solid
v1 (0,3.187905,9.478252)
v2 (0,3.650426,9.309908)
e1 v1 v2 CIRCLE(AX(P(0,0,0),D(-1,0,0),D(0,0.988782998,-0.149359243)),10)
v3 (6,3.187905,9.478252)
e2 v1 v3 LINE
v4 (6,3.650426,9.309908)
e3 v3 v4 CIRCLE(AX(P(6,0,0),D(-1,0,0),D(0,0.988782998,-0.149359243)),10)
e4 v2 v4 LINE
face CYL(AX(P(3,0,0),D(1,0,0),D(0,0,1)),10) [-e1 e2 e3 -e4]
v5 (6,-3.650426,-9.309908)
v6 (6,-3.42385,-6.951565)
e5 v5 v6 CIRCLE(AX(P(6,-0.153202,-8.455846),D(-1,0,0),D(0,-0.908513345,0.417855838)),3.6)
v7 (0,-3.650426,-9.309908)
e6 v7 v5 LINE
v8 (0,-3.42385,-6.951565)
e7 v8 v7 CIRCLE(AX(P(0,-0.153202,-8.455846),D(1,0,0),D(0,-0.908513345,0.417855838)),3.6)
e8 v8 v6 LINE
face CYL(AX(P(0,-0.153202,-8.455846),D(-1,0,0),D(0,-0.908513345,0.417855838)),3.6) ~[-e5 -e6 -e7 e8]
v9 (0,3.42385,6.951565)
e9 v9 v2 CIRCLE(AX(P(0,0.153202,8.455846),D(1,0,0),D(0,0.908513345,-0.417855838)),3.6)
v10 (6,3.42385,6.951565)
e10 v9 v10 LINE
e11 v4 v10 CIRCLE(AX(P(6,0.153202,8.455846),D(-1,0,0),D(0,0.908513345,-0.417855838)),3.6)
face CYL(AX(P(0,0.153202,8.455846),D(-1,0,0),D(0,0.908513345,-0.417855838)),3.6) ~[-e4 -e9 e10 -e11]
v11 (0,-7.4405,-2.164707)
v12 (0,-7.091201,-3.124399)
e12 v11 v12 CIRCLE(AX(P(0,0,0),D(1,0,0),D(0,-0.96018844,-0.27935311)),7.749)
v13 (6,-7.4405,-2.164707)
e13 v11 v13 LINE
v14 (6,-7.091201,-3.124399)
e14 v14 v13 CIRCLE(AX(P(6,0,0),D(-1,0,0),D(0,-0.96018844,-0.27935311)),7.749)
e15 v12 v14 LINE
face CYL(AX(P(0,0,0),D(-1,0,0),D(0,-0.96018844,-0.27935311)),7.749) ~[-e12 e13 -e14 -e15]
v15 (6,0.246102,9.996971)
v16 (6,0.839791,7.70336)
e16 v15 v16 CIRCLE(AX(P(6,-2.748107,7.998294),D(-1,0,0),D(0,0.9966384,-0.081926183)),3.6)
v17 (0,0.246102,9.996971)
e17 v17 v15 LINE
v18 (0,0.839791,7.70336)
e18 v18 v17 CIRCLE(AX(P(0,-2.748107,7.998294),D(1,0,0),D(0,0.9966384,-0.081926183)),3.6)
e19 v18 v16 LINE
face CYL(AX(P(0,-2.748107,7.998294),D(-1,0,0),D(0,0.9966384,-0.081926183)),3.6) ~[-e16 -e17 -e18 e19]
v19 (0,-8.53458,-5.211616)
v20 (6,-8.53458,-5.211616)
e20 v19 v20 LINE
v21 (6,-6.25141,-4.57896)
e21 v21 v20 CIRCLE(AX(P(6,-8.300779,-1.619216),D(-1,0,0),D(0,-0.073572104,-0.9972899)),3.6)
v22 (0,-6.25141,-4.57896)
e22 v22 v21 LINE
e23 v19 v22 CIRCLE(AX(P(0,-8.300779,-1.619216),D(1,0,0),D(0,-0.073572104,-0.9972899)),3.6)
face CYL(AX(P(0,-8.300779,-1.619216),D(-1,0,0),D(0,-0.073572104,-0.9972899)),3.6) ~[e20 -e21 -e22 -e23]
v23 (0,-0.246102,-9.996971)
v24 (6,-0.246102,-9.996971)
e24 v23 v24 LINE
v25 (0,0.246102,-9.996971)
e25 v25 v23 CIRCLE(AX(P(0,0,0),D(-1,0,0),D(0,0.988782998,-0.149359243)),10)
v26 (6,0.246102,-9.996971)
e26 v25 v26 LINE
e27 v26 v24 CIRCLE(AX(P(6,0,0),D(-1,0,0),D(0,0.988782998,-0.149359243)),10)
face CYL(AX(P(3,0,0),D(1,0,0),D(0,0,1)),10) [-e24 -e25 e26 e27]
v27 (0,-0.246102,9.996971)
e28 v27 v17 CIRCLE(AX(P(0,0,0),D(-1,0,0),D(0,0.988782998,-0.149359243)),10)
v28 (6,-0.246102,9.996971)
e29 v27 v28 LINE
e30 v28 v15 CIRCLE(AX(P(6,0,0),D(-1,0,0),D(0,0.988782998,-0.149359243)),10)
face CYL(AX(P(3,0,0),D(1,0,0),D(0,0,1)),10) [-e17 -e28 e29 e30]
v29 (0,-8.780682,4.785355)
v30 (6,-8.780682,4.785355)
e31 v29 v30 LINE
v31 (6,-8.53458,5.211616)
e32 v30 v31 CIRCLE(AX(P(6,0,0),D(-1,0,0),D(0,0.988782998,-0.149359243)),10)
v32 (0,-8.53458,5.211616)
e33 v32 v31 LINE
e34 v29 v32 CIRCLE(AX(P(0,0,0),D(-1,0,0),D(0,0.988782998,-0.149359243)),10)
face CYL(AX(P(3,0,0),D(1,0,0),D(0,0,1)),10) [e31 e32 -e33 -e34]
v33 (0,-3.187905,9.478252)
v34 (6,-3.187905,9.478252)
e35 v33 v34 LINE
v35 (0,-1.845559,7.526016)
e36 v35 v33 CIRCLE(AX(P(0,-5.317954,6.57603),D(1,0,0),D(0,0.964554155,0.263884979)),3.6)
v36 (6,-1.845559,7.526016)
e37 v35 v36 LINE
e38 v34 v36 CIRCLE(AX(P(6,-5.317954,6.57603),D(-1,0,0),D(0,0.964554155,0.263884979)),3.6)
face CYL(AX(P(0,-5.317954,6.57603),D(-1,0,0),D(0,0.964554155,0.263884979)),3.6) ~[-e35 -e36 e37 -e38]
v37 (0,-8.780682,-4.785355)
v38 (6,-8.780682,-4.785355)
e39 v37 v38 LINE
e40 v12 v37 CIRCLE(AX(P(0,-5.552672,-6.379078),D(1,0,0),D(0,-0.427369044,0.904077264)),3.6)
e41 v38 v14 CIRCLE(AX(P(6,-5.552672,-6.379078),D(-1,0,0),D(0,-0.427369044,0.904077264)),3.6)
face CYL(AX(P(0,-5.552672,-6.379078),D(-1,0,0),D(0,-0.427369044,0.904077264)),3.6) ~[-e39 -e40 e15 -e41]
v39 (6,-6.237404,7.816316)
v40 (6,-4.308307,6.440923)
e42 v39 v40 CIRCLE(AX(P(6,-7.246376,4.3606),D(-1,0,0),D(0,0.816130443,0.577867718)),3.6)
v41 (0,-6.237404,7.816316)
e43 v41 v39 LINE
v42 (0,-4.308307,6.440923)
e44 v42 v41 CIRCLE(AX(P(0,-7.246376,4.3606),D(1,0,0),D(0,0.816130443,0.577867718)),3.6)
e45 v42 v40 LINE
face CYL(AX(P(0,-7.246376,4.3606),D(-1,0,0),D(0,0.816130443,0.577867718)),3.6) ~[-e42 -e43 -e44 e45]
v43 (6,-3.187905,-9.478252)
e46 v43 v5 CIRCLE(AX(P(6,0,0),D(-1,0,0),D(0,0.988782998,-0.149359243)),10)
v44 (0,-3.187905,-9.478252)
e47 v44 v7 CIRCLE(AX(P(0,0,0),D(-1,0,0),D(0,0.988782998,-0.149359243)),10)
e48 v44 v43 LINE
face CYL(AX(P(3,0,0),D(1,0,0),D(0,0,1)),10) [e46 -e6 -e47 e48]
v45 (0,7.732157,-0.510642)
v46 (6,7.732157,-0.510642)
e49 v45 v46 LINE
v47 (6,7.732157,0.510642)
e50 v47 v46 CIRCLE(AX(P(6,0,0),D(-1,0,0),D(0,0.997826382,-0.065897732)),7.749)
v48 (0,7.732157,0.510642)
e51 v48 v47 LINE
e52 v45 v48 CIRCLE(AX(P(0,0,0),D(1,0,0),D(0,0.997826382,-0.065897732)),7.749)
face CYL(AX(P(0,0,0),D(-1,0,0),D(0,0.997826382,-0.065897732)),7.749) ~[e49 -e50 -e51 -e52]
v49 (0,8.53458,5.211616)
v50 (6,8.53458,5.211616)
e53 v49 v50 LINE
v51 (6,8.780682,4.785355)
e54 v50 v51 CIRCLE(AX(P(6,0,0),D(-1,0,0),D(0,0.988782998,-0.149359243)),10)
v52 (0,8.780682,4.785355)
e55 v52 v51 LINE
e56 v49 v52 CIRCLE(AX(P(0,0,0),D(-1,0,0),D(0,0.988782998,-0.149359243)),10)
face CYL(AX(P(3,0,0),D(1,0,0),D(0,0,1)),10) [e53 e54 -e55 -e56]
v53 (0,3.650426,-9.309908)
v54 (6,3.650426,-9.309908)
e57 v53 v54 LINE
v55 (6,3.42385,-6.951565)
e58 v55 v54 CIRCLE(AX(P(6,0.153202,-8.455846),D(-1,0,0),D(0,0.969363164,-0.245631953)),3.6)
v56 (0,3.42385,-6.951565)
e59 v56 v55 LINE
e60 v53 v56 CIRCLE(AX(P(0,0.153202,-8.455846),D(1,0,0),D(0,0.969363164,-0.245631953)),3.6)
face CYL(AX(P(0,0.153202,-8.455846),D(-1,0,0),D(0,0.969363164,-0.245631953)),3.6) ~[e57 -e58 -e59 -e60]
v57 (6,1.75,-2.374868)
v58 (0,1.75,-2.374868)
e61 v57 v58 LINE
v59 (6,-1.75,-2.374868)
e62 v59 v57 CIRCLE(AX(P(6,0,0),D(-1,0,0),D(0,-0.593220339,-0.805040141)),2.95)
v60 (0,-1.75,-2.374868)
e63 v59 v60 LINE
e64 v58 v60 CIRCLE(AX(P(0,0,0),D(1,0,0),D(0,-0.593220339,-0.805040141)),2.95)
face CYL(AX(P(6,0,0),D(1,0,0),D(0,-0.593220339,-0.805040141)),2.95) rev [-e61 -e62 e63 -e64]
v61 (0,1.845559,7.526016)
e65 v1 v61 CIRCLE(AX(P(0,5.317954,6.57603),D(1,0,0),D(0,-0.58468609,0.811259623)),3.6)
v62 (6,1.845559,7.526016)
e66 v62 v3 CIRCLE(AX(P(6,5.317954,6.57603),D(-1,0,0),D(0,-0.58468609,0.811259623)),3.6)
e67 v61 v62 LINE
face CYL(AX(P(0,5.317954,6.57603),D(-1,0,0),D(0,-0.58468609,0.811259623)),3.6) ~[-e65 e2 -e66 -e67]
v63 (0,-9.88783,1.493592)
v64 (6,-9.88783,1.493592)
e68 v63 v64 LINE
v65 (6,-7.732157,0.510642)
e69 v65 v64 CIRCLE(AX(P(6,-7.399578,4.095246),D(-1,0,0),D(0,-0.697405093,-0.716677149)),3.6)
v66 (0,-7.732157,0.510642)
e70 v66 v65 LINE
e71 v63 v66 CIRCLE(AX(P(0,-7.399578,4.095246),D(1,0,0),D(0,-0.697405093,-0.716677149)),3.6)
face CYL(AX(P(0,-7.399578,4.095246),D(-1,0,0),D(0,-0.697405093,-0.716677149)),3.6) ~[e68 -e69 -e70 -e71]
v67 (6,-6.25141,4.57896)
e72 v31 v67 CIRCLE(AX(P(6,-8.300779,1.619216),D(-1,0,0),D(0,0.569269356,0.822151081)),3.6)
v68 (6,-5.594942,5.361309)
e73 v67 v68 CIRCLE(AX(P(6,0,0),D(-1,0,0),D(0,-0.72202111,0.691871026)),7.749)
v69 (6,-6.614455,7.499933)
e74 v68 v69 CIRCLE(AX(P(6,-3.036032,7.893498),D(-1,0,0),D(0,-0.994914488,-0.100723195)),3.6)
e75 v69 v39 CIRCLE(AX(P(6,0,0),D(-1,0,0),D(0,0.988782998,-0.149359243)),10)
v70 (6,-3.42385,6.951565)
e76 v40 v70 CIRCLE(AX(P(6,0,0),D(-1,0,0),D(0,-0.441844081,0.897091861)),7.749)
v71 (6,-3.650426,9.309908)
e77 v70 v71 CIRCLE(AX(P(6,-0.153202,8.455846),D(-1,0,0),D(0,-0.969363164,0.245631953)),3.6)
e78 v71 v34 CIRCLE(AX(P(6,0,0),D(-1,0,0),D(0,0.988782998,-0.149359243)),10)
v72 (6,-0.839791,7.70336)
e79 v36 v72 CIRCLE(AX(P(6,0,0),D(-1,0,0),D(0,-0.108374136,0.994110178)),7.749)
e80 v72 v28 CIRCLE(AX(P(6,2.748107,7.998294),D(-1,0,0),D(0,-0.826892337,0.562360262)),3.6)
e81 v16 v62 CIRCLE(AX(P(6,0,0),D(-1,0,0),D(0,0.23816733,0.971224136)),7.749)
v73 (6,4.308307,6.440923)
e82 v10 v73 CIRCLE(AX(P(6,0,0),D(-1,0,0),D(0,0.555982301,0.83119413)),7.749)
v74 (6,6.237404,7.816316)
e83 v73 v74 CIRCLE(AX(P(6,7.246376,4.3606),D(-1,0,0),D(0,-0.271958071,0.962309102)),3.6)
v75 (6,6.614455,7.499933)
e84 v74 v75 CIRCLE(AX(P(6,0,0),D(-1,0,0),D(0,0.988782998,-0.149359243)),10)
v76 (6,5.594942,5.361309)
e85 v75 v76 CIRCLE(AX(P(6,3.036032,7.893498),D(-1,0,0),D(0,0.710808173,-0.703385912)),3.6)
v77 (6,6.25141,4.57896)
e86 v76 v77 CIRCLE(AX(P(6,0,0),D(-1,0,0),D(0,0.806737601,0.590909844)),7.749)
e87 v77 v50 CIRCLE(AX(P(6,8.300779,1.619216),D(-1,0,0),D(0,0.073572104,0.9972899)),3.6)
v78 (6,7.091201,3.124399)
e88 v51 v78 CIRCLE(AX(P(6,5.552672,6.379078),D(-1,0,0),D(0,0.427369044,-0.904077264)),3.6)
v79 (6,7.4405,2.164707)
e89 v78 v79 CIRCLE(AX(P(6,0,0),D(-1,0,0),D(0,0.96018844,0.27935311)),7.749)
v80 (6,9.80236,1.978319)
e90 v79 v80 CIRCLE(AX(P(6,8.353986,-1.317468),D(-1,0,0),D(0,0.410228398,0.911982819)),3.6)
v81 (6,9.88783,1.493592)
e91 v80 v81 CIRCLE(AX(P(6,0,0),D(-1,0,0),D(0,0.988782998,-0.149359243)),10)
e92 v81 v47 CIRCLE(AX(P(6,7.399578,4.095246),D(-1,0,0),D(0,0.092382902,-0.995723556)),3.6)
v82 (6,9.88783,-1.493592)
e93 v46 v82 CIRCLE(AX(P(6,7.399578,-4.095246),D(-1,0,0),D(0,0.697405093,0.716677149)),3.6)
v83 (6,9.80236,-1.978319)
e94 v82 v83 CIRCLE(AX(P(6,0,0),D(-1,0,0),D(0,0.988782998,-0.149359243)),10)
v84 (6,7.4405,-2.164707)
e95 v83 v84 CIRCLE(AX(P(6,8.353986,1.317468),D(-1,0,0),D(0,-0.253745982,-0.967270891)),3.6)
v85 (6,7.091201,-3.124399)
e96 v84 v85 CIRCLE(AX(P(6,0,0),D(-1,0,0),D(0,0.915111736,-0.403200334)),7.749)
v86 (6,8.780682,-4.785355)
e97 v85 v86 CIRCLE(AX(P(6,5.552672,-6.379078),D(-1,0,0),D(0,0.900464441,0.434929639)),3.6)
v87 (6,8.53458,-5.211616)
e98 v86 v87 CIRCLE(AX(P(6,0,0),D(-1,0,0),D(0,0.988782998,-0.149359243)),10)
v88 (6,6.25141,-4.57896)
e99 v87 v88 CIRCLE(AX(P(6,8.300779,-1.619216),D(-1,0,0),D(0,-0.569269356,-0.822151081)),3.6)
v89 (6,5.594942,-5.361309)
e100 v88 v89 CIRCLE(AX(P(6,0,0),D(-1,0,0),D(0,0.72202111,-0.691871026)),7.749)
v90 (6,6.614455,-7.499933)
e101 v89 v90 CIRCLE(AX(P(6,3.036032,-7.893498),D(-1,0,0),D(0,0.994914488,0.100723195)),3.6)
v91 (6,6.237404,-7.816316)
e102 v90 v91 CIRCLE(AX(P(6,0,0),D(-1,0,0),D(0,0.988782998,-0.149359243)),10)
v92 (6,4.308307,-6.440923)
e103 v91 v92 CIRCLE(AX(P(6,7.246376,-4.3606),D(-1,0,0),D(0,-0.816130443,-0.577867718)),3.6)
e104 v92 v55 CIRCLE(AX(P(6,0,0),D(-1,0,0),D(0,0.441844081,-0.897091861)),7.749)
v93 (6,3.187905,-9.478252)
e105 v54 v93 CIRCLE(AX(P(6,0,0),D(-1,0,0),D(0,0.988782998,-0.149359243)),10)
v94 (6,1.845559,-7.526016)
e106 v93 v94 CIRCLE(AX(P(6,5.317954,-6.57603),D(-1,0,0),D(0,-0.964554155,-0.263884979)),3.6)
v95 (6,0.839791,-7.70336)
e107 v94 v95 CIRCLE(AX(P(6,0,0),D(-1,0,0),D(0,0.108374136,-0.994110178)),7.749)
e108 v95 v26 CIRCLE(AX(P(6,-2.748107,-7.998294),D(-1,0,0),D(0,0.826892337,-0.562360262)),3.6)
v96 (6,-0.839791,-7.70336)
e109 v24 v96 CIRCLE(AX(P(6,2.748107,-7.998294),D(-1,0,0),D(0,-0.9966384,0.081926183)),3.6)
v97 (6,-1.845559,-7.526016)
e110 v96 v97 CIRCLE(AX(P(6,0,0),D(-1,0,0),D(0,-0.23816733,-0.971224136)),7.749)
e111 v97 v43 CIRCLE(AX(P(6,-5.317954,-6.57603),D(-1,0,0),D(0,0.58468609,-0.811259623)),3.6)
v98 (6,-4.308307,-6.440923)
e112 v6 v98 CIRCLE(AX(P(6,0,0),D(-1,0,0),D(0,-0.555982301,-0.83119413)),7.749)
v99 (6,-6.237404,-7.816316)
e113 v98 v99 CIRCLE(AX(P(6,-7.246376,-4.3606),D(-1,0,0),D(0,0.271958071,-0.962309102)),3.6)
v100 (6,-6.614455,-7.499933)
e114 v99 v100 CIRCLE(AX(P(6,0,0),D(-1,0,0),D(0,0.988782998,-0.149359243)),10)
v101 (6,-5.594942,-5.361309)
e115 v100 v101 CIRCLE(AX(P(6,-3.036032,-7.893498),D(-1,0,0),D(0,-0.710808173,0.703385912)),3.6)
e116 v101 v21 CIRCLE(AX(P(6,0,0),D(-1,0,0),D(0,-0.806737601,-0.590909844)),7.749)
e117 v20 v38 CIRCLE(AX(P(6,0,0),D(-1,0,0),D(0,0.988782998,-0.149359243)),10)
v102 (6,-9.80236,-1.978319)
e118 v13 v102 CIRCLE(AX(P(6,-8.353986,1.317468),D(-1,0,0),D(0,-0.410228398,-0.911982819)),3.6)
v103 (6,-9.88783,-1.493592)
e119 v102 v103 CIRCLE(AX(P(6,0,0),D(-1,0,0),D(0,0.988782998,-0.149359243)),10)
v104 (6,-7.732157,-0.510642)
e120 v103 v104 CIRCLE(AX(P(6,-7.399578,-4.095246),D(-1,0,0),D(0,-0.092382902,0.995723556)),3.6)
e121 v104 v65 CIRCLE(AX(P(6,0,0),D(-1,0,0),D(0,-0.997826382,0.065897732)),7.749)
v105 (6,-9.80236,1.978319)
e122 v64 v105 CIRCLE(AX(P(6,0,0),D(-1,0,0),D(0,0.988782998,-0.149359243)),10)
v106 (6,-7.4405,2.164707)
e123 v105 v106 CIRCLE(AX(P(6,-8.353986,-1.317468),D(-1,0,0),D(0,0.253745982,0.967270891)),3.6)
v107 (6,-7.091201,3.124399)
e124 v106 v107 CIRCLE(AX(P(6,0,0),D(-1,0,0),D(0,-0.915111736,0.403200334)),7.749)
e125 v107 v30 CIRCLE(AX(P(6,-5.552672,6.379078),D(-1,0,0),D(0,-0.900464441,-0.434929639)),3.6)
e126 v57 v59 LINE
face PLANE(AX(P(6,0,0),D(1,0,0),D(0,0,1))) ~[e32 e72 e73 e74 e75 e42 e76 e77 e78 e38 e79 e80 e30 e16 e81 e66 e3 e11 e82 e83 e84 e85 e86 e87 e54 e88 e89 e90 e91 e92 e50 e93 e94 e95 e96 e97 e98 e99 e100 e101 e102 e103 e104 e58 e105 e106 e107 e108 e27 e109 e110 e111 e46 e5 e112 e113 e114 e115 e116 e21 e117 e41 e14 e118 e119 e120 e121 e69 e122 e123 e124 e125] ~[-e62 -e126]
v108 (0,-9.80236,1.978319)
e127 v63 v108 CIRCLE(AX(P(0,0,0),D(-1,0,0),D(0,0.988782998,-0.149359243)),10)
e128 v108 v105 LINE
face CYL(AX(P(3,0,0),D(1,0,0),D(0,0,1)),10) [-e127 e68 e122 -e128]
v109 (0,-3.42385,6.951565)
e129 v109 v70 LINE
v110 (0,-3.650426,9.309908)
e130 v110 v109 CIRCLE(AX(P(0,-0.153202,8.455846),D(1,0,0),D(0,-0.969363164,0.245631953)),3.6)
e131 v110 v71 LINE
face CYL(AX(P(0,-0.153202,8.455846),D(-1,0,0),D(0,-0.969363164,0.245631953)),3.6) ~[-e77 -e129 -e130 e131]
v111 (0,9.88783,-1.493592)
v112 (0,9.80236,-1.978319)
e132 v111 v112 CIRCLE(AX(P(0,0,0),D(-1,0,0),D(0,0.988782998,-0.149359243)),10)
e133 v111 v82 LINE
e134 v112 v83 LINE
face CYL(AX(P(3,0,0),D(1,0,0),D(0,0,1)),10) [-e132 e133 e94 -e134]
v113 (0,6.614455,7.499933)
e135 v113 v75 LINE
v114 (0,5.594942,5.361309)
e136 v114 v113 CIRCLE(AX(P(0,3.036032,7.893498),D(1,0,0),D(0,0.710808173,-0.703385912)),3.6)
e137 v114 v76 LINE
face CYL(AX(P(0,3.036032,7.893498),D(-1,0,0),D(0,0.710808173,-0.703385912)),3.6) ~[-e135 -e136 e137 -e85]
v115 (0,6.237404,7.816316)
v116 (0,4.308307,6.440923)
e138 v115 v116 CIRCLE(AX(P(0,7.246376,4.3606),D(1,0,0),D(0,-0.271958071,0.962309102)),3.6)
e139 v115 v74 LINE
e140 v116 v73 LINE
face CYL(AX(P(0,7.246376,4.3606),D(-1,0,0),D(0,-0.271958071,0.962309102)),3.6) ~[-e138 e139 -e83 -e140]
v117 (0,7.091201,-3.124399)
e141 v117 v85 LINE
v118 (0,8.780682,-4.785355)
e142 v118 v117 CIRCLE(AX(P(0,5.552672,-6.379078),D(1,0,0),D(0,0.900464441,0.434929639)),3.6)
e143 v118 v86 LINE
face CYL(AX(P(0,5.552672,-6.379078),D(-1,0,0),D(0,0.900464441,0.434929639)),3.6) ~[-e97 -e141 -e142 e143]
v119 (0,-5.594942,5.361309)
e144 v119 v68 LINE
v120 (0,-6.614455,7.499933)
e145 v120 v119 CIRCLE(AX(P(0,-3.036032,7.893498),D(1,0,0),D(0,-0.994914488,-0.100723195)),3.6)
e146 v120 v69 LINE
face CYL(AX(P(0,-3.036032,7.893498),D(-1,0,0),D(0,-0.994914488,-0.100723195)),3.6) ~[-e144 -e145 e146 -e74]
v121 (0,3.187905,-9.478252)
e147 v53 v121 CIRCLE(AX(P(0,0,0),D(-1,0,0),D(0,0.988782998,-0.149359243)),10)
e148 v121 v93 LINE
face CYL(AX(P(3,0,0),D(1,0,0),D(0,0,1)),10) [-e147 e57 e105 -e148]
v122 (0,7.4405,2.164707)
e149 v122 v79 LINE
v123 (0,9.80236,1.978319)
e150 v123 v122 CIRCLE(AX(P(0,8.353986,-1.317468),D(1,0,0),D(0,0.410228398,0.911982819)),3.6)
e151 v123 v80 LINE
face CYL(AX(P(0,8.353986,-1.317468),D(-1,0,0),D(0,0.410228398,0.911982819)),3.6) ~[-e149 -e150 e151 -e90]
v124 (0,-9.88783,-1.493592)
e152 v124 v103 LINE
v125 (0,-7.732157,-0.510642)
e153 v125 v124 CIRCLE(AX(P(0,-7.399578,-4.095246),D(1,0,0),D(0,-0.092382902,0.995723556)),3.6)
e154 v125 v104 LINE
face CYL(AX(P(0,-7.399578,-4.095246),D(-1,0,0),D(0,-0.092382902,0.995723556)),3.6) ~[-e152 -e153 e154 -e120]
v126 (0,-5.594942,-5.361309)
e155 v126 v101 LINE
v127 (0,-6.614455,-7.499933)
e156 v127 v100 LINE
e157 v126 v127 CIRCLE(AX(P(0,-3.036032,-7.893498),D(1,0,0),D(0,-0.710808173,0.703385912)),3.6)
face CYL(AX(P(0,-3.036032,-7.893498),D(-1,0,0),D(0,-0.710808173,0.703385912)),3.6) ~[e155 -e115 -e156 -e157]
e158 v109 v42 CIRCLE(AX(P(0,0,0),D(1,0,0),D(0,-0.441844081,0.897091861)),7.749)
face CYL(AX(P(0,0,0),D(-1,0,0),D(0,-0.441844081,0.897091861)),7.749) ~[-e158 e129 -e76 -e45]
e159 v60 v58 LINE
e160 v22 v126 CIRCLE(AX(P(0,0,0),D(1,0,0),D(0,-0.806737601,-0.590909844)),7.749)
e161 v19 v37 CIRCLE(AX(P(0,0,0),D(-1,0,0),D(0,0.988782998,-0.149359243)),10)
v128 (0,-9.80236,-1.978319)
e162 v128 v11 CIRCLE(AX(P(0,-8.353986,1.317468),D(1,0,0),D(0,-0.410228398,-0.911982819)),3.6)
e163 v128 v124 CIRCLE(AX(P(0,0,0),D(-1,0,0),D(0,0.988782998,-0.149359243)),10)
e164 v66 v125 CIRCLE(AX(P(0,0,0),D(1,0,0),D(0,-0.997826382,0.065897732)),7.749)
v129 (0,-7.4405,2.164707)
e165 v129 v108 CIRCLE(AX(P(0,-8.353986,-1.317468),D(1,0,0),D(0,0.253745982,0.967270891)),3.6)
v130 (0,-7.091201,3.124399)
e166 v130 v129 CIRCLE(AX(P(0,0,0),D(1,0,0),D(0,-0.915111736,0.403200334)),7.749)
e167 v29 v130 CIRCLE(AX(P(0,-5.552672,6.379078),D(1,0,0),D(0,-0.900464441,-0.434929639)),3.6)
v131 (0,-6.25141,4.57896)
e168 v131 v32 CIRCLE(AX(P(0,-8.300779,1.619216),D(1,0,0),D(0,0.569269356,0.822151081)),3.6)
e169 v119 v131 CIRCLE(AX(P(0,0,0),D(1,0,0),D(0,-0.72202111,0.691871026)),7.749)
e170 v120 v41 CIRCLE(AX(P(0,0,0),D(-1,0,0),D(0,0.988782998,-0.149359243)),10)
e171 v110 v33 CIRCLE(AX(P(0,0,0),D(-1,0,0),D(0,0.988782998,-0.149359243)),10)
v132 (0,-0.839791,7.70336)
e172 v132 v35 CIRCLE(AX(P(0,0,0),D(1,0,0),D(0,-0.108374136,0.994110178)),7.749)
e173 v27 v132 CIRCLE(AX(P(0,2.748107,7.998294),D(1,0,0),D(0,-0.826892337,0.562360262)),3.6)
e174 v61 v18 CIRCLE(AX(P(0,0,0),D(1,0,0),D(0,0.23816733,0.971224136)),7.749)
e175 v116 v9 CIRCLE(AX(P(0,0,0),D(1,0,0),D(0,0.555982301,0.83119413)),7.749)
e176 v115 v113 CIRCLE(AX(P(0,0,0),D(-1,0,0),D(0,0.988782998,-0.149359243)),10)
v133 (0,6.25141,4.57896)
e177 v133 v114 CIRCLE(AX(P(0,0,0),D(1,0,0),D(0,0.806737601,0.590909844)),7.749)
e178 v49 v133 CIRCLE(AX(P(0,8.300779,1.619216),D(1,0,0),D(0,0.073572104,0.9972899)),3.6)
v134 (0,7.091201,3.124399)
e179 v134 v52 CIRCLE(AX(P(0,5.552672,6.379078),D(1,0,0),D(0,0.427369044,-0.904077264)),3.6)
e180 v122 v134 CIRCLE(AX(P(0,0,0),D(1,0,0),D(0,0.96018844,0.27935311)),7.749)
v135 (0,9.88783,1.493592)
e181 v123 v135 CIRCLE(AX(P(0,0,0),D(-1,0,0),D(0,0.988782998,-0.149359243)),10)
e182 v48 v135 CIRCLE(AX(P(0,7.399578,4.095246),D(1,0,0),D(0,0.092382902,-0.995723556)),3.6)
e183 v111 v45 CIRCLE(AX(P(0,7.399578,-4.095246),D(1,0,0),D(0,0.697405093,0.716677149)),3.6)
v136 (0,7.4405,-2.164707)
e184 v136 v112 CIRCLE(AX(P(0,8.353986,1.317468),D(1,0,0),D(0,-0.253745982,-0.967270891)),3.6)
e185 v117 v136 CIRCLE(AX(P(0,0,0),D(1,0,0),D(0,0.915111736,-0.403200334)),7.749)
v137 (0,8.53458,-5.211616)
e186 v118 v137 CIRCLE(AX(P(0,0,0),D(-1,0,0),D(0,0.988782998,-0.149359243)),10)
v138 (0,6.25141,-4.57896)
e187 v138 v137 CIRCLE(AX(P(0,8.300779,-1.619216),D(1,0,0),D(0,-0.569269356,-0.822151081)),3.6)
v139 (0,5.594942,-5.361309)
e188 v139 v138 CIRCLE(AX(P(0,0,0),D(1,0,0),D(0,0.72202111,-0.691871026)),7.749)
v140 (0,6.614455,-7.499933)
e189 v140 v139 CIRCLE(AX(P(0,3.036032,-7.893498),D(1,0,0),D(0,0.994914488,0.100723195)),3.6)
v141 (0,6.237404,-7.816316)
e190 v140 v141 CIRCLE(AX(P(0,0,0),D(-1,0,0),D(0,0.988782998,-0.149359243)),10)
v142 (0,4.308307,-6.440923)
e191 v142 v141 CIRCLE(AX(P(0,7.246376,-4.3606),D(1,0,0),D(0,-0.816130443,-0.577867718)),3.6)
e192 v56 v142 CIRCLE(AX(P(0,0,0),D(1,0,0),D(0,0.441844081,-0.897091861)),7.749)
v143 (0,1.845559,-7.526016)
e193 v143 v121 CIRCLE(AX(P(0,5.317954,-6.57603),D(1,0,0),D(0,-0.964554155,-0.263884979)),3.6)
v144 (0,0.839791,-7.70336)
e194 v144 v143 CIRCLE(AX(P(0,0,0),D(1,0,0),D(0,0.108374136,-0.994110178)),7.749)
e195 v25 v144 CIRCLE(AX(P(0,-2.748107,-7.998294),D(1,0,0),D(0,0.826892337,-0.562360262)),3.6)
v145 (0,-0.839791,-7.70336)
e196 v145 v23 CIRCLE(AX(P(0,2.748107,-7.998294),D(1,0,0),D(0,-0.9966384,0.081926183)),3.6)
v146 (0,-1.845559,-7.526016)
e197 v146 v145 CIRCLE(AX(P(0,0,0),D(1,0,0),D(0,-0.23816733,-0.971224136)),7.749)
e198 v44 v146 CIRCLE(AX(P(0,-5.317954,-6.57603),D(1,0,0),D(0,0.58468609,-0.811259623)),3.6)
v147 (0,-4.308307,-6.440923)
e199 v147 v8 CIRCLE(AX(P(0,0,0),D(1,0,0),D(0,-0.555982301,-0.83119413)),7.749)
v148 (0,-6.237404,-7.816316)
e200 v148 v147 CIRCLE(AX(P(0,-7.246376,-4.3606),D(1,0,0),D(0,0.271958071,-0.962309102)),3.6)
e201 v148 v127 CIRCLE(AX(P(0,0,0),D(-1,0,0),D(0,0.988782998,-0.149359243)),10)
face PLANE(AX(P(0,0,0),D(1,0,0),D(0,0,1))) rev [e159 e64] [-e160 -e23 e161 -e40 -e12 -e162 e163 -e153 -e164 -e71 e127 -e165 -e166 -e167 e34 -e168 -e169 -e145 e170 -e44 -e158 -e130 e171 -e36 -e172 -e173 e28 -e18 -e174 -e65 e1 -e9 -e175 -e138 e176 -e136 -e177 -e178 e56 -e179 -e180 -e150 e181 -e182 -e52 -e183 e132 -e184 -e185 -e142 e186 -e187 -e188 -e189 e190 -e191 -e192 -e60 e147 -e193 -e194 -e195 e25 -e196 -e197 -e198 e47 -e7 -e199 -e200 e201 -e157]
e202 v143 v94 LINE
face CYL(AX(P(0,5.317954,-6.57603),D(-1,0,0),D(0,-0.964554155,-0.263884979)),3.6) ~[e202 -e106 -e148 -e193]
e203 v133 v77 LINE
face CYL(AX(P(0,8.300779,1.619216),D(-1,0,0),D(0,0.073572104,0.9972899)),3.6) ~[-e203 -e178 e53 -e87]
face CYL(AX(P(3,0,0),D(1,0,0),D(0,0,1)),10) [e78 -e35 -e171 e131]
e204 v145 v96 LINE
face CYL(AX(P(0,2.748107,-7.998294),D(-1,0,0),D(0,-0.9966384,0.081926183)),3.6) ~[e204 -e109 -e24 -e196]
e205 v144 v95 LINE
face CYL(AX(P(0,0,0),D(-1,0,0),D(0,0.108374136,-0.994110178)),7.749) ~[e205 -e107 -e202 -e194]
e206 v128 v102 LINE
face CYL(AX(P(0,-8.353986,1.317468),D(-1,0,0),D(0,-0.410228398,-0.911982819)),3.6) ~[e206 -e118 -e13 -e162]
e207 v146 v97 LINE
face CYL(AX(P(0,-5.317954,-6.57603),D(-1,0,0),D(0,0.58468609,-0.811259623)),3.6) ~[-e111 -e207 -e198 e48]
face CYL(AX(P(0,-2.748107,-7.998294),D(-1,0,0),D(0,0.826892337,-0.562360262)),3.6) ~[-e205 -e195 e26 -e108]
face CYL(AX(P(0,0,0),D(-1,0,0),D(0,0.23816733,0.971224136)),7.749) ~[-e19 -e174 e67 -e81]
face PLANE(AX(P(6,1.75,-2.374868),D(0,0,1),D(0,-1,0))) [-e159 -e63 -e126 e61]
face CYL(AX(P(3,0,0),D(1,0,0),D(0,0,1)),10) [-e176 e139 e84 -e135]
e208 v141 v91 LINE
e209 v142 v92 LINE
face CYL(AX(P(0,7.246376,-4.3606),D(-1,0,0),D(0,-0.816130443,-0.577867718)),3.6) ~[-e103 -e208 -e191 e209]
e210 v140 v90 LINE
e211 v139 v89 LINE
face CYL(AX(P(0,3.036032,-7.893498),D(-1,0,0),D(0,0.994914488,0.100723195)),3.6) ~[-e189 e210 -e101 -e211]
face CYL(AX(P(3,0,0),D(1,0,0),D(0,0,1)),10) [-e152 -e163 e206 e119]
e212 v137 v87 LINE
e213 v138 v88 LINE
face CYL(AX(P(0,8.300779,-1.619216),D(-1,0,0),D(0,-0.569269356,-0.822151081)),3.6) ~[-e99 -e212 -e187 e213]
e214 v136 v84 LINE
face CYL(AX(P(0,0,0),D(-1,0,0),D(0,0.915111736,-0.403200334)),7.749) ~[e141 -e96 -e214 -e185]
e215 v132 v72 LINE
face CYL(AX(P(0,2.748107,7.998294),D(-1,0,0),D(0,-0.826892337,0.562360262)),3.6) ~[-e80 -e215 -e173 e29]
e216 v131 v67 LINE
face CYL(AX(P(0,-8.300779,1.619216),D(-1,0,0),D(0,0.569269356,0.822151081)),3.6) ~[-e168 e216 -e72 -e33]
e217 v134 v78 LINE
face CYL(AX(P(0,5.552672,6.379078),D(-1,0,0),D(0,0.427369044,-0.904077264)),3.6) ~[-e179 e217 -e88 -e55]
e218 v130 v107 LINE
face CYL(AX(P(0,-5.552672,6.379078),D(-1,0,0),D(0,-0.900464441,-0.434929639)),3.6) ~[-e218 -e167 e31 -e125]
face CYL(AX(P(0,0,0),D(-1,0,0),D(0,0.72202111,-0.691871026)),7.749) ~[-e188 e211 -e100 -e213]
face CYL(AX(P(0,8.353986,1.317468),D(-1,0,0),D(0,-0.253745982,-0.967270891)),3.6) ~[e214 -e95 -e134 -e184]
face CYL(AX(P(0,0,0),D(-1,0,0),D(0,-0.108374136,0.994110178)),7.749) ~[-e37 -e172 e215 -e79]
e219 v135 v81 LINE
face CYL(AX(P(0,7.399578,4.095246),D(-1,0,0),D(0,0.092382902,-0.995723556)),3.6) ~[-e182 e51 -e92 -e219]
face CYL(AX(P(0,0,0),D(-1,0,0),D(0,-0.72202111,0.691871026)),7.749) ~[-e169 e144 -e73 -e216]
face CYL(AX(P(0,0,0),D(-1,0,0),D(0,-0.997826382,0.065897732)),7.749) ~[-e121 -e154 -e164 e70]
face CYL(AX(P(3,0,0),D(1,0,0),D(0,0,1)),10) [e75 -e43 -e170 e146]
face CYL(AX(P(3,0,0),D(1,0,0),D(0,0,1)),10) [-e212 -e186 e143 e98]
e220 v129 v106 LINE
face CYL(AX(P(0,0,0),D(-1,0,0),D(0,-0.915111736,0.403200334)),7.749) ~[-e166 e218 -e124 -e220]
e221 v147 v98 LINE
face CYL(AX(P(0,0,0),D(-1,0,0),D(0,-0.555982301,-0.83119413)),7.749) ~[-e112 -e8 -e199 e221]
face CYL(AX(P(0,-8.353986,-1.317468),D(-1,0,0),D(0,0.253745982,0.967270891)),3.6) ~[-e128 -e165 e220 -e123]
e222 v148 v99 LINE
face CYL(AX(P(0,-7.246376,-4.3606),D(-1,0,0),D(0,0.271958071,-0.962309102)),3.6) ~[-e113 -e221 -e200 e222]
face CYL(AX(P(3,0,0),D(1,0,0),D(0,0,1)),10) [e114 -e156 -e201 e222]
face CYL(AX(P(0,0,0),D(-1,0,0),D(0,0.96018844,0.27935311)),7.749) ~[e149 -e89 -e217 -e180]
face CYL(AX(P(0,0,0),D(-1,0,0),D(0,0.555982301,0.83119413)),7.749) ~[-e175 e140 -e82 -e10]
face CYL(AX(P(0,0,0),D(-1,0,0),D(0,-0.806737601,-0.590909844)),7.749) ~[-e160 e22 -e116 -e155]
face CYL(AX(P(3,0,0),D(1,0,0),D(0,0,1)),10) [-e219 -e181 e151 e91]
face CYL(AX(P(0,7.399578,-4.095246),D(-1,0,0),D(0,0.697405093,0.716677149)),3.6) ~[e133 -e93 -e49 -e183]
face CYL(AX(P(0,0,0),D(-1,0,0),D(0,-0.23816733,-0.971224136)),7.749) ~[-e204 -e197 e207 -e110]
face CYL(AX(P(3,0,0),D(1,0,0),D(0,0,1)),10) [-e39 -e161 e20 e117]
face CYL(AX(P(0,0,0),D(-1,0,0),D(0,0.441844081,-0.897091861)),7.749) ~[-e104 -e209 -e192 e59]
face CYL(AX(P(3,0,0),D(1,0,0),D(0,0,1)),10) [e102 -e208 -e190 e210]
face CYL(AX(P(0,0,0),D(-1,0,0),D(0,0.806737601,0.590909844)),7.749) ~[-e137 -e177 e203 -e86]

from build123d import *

# Parameters (mm, degrees)
BASPROSKE_W        = 6
BASPROSKE_H        = 10
TOOTHCUT_DEPTH     = 16.362291496
TEETHCUTS_COUNT    = 18
TEETHCUTS_ANGLE    = 340
CUT_EXTRUDE1_DEPTH = 16.289512146


with BuildPart() as part:
    # BasProSke → Base-Revolve (revolve)
    with BuildSketch(Plane(origin=(0, 0, 0), x_dir=(1, 0, 0), z_dir=(0, 1, 0)), mode=Mode.PRIVATE) as base_revolve_sk:
        with Locations((3, 5)):
            Rectangle(BASPROSKE_W, BASPROSKE_H)
    revolve(base_revolve_sk.sketch.rotate(Axis((-10, 0, 0), (1, 0, 0)), 180), axis=Axis((-10, 0, 0), (1, 0, 0)))

    # TooCutSke → ToothCut (cut, through all)
    with BuildSketch(Plane(origin=(0, 0, 0), x_dir=(0, 0, -1), z_dir=(1, 0, 0))):
        with BuildLine():
            ThreePointArc((0.510641536, 7.732156635), (0, 7.749), (-0.510641536, 7.732156635))
            ThreePointArc((-0.510641536, 7.732156635), (-0.82619259, 8.907320741), (-1.515208602, 9.910236529))
            ThreePointArc((-1.515208602, 9.910236529), (0, 10.0254), (1.515208602, 9.910236529))
            ThreePointArc((1.515208602, 9.910236529), (0.82619259, 8.907320741), (0.510641536, 7.732156635))
        make_face()
    toothcut = extrude(amount=TOOTHCUT_DEPTH, mode=Mode.SUBTRACT)

    # TeethCuts: ToothCut ×18 about axis
    teethcuts_axis = Axis((-10, 0, 0), (1, 0, 0))
    for i in range(1, TEETHCUTS_COUNT):
        add(toothcut.rotate(teethcuts_axis, i * TEETHCUTS_ANGLE / (TEETHCUTS_COUNT - 1)), mode=Mode.SUBTRACT)

    # Sketch1 → Cut-Extrude1 (cut, through all)
    with BuildSketch(Plane(origin=(6, 0, 0), x_dir=(0, 0, -1), z_dir=(1, 0, 0))):
        with BuildLine():
            Line((2.374868417, 1.75), (2.374868417, -1.75))
            ThreePointArc((2.374868417, -1.75), (-2.95, 0), (2.374868417, 1.75))
        make_face()
    extrude(amount=-CUT_EXTRUDE1_DEPTH, mode=Mode.SUBTRACT)


solid = part.part
